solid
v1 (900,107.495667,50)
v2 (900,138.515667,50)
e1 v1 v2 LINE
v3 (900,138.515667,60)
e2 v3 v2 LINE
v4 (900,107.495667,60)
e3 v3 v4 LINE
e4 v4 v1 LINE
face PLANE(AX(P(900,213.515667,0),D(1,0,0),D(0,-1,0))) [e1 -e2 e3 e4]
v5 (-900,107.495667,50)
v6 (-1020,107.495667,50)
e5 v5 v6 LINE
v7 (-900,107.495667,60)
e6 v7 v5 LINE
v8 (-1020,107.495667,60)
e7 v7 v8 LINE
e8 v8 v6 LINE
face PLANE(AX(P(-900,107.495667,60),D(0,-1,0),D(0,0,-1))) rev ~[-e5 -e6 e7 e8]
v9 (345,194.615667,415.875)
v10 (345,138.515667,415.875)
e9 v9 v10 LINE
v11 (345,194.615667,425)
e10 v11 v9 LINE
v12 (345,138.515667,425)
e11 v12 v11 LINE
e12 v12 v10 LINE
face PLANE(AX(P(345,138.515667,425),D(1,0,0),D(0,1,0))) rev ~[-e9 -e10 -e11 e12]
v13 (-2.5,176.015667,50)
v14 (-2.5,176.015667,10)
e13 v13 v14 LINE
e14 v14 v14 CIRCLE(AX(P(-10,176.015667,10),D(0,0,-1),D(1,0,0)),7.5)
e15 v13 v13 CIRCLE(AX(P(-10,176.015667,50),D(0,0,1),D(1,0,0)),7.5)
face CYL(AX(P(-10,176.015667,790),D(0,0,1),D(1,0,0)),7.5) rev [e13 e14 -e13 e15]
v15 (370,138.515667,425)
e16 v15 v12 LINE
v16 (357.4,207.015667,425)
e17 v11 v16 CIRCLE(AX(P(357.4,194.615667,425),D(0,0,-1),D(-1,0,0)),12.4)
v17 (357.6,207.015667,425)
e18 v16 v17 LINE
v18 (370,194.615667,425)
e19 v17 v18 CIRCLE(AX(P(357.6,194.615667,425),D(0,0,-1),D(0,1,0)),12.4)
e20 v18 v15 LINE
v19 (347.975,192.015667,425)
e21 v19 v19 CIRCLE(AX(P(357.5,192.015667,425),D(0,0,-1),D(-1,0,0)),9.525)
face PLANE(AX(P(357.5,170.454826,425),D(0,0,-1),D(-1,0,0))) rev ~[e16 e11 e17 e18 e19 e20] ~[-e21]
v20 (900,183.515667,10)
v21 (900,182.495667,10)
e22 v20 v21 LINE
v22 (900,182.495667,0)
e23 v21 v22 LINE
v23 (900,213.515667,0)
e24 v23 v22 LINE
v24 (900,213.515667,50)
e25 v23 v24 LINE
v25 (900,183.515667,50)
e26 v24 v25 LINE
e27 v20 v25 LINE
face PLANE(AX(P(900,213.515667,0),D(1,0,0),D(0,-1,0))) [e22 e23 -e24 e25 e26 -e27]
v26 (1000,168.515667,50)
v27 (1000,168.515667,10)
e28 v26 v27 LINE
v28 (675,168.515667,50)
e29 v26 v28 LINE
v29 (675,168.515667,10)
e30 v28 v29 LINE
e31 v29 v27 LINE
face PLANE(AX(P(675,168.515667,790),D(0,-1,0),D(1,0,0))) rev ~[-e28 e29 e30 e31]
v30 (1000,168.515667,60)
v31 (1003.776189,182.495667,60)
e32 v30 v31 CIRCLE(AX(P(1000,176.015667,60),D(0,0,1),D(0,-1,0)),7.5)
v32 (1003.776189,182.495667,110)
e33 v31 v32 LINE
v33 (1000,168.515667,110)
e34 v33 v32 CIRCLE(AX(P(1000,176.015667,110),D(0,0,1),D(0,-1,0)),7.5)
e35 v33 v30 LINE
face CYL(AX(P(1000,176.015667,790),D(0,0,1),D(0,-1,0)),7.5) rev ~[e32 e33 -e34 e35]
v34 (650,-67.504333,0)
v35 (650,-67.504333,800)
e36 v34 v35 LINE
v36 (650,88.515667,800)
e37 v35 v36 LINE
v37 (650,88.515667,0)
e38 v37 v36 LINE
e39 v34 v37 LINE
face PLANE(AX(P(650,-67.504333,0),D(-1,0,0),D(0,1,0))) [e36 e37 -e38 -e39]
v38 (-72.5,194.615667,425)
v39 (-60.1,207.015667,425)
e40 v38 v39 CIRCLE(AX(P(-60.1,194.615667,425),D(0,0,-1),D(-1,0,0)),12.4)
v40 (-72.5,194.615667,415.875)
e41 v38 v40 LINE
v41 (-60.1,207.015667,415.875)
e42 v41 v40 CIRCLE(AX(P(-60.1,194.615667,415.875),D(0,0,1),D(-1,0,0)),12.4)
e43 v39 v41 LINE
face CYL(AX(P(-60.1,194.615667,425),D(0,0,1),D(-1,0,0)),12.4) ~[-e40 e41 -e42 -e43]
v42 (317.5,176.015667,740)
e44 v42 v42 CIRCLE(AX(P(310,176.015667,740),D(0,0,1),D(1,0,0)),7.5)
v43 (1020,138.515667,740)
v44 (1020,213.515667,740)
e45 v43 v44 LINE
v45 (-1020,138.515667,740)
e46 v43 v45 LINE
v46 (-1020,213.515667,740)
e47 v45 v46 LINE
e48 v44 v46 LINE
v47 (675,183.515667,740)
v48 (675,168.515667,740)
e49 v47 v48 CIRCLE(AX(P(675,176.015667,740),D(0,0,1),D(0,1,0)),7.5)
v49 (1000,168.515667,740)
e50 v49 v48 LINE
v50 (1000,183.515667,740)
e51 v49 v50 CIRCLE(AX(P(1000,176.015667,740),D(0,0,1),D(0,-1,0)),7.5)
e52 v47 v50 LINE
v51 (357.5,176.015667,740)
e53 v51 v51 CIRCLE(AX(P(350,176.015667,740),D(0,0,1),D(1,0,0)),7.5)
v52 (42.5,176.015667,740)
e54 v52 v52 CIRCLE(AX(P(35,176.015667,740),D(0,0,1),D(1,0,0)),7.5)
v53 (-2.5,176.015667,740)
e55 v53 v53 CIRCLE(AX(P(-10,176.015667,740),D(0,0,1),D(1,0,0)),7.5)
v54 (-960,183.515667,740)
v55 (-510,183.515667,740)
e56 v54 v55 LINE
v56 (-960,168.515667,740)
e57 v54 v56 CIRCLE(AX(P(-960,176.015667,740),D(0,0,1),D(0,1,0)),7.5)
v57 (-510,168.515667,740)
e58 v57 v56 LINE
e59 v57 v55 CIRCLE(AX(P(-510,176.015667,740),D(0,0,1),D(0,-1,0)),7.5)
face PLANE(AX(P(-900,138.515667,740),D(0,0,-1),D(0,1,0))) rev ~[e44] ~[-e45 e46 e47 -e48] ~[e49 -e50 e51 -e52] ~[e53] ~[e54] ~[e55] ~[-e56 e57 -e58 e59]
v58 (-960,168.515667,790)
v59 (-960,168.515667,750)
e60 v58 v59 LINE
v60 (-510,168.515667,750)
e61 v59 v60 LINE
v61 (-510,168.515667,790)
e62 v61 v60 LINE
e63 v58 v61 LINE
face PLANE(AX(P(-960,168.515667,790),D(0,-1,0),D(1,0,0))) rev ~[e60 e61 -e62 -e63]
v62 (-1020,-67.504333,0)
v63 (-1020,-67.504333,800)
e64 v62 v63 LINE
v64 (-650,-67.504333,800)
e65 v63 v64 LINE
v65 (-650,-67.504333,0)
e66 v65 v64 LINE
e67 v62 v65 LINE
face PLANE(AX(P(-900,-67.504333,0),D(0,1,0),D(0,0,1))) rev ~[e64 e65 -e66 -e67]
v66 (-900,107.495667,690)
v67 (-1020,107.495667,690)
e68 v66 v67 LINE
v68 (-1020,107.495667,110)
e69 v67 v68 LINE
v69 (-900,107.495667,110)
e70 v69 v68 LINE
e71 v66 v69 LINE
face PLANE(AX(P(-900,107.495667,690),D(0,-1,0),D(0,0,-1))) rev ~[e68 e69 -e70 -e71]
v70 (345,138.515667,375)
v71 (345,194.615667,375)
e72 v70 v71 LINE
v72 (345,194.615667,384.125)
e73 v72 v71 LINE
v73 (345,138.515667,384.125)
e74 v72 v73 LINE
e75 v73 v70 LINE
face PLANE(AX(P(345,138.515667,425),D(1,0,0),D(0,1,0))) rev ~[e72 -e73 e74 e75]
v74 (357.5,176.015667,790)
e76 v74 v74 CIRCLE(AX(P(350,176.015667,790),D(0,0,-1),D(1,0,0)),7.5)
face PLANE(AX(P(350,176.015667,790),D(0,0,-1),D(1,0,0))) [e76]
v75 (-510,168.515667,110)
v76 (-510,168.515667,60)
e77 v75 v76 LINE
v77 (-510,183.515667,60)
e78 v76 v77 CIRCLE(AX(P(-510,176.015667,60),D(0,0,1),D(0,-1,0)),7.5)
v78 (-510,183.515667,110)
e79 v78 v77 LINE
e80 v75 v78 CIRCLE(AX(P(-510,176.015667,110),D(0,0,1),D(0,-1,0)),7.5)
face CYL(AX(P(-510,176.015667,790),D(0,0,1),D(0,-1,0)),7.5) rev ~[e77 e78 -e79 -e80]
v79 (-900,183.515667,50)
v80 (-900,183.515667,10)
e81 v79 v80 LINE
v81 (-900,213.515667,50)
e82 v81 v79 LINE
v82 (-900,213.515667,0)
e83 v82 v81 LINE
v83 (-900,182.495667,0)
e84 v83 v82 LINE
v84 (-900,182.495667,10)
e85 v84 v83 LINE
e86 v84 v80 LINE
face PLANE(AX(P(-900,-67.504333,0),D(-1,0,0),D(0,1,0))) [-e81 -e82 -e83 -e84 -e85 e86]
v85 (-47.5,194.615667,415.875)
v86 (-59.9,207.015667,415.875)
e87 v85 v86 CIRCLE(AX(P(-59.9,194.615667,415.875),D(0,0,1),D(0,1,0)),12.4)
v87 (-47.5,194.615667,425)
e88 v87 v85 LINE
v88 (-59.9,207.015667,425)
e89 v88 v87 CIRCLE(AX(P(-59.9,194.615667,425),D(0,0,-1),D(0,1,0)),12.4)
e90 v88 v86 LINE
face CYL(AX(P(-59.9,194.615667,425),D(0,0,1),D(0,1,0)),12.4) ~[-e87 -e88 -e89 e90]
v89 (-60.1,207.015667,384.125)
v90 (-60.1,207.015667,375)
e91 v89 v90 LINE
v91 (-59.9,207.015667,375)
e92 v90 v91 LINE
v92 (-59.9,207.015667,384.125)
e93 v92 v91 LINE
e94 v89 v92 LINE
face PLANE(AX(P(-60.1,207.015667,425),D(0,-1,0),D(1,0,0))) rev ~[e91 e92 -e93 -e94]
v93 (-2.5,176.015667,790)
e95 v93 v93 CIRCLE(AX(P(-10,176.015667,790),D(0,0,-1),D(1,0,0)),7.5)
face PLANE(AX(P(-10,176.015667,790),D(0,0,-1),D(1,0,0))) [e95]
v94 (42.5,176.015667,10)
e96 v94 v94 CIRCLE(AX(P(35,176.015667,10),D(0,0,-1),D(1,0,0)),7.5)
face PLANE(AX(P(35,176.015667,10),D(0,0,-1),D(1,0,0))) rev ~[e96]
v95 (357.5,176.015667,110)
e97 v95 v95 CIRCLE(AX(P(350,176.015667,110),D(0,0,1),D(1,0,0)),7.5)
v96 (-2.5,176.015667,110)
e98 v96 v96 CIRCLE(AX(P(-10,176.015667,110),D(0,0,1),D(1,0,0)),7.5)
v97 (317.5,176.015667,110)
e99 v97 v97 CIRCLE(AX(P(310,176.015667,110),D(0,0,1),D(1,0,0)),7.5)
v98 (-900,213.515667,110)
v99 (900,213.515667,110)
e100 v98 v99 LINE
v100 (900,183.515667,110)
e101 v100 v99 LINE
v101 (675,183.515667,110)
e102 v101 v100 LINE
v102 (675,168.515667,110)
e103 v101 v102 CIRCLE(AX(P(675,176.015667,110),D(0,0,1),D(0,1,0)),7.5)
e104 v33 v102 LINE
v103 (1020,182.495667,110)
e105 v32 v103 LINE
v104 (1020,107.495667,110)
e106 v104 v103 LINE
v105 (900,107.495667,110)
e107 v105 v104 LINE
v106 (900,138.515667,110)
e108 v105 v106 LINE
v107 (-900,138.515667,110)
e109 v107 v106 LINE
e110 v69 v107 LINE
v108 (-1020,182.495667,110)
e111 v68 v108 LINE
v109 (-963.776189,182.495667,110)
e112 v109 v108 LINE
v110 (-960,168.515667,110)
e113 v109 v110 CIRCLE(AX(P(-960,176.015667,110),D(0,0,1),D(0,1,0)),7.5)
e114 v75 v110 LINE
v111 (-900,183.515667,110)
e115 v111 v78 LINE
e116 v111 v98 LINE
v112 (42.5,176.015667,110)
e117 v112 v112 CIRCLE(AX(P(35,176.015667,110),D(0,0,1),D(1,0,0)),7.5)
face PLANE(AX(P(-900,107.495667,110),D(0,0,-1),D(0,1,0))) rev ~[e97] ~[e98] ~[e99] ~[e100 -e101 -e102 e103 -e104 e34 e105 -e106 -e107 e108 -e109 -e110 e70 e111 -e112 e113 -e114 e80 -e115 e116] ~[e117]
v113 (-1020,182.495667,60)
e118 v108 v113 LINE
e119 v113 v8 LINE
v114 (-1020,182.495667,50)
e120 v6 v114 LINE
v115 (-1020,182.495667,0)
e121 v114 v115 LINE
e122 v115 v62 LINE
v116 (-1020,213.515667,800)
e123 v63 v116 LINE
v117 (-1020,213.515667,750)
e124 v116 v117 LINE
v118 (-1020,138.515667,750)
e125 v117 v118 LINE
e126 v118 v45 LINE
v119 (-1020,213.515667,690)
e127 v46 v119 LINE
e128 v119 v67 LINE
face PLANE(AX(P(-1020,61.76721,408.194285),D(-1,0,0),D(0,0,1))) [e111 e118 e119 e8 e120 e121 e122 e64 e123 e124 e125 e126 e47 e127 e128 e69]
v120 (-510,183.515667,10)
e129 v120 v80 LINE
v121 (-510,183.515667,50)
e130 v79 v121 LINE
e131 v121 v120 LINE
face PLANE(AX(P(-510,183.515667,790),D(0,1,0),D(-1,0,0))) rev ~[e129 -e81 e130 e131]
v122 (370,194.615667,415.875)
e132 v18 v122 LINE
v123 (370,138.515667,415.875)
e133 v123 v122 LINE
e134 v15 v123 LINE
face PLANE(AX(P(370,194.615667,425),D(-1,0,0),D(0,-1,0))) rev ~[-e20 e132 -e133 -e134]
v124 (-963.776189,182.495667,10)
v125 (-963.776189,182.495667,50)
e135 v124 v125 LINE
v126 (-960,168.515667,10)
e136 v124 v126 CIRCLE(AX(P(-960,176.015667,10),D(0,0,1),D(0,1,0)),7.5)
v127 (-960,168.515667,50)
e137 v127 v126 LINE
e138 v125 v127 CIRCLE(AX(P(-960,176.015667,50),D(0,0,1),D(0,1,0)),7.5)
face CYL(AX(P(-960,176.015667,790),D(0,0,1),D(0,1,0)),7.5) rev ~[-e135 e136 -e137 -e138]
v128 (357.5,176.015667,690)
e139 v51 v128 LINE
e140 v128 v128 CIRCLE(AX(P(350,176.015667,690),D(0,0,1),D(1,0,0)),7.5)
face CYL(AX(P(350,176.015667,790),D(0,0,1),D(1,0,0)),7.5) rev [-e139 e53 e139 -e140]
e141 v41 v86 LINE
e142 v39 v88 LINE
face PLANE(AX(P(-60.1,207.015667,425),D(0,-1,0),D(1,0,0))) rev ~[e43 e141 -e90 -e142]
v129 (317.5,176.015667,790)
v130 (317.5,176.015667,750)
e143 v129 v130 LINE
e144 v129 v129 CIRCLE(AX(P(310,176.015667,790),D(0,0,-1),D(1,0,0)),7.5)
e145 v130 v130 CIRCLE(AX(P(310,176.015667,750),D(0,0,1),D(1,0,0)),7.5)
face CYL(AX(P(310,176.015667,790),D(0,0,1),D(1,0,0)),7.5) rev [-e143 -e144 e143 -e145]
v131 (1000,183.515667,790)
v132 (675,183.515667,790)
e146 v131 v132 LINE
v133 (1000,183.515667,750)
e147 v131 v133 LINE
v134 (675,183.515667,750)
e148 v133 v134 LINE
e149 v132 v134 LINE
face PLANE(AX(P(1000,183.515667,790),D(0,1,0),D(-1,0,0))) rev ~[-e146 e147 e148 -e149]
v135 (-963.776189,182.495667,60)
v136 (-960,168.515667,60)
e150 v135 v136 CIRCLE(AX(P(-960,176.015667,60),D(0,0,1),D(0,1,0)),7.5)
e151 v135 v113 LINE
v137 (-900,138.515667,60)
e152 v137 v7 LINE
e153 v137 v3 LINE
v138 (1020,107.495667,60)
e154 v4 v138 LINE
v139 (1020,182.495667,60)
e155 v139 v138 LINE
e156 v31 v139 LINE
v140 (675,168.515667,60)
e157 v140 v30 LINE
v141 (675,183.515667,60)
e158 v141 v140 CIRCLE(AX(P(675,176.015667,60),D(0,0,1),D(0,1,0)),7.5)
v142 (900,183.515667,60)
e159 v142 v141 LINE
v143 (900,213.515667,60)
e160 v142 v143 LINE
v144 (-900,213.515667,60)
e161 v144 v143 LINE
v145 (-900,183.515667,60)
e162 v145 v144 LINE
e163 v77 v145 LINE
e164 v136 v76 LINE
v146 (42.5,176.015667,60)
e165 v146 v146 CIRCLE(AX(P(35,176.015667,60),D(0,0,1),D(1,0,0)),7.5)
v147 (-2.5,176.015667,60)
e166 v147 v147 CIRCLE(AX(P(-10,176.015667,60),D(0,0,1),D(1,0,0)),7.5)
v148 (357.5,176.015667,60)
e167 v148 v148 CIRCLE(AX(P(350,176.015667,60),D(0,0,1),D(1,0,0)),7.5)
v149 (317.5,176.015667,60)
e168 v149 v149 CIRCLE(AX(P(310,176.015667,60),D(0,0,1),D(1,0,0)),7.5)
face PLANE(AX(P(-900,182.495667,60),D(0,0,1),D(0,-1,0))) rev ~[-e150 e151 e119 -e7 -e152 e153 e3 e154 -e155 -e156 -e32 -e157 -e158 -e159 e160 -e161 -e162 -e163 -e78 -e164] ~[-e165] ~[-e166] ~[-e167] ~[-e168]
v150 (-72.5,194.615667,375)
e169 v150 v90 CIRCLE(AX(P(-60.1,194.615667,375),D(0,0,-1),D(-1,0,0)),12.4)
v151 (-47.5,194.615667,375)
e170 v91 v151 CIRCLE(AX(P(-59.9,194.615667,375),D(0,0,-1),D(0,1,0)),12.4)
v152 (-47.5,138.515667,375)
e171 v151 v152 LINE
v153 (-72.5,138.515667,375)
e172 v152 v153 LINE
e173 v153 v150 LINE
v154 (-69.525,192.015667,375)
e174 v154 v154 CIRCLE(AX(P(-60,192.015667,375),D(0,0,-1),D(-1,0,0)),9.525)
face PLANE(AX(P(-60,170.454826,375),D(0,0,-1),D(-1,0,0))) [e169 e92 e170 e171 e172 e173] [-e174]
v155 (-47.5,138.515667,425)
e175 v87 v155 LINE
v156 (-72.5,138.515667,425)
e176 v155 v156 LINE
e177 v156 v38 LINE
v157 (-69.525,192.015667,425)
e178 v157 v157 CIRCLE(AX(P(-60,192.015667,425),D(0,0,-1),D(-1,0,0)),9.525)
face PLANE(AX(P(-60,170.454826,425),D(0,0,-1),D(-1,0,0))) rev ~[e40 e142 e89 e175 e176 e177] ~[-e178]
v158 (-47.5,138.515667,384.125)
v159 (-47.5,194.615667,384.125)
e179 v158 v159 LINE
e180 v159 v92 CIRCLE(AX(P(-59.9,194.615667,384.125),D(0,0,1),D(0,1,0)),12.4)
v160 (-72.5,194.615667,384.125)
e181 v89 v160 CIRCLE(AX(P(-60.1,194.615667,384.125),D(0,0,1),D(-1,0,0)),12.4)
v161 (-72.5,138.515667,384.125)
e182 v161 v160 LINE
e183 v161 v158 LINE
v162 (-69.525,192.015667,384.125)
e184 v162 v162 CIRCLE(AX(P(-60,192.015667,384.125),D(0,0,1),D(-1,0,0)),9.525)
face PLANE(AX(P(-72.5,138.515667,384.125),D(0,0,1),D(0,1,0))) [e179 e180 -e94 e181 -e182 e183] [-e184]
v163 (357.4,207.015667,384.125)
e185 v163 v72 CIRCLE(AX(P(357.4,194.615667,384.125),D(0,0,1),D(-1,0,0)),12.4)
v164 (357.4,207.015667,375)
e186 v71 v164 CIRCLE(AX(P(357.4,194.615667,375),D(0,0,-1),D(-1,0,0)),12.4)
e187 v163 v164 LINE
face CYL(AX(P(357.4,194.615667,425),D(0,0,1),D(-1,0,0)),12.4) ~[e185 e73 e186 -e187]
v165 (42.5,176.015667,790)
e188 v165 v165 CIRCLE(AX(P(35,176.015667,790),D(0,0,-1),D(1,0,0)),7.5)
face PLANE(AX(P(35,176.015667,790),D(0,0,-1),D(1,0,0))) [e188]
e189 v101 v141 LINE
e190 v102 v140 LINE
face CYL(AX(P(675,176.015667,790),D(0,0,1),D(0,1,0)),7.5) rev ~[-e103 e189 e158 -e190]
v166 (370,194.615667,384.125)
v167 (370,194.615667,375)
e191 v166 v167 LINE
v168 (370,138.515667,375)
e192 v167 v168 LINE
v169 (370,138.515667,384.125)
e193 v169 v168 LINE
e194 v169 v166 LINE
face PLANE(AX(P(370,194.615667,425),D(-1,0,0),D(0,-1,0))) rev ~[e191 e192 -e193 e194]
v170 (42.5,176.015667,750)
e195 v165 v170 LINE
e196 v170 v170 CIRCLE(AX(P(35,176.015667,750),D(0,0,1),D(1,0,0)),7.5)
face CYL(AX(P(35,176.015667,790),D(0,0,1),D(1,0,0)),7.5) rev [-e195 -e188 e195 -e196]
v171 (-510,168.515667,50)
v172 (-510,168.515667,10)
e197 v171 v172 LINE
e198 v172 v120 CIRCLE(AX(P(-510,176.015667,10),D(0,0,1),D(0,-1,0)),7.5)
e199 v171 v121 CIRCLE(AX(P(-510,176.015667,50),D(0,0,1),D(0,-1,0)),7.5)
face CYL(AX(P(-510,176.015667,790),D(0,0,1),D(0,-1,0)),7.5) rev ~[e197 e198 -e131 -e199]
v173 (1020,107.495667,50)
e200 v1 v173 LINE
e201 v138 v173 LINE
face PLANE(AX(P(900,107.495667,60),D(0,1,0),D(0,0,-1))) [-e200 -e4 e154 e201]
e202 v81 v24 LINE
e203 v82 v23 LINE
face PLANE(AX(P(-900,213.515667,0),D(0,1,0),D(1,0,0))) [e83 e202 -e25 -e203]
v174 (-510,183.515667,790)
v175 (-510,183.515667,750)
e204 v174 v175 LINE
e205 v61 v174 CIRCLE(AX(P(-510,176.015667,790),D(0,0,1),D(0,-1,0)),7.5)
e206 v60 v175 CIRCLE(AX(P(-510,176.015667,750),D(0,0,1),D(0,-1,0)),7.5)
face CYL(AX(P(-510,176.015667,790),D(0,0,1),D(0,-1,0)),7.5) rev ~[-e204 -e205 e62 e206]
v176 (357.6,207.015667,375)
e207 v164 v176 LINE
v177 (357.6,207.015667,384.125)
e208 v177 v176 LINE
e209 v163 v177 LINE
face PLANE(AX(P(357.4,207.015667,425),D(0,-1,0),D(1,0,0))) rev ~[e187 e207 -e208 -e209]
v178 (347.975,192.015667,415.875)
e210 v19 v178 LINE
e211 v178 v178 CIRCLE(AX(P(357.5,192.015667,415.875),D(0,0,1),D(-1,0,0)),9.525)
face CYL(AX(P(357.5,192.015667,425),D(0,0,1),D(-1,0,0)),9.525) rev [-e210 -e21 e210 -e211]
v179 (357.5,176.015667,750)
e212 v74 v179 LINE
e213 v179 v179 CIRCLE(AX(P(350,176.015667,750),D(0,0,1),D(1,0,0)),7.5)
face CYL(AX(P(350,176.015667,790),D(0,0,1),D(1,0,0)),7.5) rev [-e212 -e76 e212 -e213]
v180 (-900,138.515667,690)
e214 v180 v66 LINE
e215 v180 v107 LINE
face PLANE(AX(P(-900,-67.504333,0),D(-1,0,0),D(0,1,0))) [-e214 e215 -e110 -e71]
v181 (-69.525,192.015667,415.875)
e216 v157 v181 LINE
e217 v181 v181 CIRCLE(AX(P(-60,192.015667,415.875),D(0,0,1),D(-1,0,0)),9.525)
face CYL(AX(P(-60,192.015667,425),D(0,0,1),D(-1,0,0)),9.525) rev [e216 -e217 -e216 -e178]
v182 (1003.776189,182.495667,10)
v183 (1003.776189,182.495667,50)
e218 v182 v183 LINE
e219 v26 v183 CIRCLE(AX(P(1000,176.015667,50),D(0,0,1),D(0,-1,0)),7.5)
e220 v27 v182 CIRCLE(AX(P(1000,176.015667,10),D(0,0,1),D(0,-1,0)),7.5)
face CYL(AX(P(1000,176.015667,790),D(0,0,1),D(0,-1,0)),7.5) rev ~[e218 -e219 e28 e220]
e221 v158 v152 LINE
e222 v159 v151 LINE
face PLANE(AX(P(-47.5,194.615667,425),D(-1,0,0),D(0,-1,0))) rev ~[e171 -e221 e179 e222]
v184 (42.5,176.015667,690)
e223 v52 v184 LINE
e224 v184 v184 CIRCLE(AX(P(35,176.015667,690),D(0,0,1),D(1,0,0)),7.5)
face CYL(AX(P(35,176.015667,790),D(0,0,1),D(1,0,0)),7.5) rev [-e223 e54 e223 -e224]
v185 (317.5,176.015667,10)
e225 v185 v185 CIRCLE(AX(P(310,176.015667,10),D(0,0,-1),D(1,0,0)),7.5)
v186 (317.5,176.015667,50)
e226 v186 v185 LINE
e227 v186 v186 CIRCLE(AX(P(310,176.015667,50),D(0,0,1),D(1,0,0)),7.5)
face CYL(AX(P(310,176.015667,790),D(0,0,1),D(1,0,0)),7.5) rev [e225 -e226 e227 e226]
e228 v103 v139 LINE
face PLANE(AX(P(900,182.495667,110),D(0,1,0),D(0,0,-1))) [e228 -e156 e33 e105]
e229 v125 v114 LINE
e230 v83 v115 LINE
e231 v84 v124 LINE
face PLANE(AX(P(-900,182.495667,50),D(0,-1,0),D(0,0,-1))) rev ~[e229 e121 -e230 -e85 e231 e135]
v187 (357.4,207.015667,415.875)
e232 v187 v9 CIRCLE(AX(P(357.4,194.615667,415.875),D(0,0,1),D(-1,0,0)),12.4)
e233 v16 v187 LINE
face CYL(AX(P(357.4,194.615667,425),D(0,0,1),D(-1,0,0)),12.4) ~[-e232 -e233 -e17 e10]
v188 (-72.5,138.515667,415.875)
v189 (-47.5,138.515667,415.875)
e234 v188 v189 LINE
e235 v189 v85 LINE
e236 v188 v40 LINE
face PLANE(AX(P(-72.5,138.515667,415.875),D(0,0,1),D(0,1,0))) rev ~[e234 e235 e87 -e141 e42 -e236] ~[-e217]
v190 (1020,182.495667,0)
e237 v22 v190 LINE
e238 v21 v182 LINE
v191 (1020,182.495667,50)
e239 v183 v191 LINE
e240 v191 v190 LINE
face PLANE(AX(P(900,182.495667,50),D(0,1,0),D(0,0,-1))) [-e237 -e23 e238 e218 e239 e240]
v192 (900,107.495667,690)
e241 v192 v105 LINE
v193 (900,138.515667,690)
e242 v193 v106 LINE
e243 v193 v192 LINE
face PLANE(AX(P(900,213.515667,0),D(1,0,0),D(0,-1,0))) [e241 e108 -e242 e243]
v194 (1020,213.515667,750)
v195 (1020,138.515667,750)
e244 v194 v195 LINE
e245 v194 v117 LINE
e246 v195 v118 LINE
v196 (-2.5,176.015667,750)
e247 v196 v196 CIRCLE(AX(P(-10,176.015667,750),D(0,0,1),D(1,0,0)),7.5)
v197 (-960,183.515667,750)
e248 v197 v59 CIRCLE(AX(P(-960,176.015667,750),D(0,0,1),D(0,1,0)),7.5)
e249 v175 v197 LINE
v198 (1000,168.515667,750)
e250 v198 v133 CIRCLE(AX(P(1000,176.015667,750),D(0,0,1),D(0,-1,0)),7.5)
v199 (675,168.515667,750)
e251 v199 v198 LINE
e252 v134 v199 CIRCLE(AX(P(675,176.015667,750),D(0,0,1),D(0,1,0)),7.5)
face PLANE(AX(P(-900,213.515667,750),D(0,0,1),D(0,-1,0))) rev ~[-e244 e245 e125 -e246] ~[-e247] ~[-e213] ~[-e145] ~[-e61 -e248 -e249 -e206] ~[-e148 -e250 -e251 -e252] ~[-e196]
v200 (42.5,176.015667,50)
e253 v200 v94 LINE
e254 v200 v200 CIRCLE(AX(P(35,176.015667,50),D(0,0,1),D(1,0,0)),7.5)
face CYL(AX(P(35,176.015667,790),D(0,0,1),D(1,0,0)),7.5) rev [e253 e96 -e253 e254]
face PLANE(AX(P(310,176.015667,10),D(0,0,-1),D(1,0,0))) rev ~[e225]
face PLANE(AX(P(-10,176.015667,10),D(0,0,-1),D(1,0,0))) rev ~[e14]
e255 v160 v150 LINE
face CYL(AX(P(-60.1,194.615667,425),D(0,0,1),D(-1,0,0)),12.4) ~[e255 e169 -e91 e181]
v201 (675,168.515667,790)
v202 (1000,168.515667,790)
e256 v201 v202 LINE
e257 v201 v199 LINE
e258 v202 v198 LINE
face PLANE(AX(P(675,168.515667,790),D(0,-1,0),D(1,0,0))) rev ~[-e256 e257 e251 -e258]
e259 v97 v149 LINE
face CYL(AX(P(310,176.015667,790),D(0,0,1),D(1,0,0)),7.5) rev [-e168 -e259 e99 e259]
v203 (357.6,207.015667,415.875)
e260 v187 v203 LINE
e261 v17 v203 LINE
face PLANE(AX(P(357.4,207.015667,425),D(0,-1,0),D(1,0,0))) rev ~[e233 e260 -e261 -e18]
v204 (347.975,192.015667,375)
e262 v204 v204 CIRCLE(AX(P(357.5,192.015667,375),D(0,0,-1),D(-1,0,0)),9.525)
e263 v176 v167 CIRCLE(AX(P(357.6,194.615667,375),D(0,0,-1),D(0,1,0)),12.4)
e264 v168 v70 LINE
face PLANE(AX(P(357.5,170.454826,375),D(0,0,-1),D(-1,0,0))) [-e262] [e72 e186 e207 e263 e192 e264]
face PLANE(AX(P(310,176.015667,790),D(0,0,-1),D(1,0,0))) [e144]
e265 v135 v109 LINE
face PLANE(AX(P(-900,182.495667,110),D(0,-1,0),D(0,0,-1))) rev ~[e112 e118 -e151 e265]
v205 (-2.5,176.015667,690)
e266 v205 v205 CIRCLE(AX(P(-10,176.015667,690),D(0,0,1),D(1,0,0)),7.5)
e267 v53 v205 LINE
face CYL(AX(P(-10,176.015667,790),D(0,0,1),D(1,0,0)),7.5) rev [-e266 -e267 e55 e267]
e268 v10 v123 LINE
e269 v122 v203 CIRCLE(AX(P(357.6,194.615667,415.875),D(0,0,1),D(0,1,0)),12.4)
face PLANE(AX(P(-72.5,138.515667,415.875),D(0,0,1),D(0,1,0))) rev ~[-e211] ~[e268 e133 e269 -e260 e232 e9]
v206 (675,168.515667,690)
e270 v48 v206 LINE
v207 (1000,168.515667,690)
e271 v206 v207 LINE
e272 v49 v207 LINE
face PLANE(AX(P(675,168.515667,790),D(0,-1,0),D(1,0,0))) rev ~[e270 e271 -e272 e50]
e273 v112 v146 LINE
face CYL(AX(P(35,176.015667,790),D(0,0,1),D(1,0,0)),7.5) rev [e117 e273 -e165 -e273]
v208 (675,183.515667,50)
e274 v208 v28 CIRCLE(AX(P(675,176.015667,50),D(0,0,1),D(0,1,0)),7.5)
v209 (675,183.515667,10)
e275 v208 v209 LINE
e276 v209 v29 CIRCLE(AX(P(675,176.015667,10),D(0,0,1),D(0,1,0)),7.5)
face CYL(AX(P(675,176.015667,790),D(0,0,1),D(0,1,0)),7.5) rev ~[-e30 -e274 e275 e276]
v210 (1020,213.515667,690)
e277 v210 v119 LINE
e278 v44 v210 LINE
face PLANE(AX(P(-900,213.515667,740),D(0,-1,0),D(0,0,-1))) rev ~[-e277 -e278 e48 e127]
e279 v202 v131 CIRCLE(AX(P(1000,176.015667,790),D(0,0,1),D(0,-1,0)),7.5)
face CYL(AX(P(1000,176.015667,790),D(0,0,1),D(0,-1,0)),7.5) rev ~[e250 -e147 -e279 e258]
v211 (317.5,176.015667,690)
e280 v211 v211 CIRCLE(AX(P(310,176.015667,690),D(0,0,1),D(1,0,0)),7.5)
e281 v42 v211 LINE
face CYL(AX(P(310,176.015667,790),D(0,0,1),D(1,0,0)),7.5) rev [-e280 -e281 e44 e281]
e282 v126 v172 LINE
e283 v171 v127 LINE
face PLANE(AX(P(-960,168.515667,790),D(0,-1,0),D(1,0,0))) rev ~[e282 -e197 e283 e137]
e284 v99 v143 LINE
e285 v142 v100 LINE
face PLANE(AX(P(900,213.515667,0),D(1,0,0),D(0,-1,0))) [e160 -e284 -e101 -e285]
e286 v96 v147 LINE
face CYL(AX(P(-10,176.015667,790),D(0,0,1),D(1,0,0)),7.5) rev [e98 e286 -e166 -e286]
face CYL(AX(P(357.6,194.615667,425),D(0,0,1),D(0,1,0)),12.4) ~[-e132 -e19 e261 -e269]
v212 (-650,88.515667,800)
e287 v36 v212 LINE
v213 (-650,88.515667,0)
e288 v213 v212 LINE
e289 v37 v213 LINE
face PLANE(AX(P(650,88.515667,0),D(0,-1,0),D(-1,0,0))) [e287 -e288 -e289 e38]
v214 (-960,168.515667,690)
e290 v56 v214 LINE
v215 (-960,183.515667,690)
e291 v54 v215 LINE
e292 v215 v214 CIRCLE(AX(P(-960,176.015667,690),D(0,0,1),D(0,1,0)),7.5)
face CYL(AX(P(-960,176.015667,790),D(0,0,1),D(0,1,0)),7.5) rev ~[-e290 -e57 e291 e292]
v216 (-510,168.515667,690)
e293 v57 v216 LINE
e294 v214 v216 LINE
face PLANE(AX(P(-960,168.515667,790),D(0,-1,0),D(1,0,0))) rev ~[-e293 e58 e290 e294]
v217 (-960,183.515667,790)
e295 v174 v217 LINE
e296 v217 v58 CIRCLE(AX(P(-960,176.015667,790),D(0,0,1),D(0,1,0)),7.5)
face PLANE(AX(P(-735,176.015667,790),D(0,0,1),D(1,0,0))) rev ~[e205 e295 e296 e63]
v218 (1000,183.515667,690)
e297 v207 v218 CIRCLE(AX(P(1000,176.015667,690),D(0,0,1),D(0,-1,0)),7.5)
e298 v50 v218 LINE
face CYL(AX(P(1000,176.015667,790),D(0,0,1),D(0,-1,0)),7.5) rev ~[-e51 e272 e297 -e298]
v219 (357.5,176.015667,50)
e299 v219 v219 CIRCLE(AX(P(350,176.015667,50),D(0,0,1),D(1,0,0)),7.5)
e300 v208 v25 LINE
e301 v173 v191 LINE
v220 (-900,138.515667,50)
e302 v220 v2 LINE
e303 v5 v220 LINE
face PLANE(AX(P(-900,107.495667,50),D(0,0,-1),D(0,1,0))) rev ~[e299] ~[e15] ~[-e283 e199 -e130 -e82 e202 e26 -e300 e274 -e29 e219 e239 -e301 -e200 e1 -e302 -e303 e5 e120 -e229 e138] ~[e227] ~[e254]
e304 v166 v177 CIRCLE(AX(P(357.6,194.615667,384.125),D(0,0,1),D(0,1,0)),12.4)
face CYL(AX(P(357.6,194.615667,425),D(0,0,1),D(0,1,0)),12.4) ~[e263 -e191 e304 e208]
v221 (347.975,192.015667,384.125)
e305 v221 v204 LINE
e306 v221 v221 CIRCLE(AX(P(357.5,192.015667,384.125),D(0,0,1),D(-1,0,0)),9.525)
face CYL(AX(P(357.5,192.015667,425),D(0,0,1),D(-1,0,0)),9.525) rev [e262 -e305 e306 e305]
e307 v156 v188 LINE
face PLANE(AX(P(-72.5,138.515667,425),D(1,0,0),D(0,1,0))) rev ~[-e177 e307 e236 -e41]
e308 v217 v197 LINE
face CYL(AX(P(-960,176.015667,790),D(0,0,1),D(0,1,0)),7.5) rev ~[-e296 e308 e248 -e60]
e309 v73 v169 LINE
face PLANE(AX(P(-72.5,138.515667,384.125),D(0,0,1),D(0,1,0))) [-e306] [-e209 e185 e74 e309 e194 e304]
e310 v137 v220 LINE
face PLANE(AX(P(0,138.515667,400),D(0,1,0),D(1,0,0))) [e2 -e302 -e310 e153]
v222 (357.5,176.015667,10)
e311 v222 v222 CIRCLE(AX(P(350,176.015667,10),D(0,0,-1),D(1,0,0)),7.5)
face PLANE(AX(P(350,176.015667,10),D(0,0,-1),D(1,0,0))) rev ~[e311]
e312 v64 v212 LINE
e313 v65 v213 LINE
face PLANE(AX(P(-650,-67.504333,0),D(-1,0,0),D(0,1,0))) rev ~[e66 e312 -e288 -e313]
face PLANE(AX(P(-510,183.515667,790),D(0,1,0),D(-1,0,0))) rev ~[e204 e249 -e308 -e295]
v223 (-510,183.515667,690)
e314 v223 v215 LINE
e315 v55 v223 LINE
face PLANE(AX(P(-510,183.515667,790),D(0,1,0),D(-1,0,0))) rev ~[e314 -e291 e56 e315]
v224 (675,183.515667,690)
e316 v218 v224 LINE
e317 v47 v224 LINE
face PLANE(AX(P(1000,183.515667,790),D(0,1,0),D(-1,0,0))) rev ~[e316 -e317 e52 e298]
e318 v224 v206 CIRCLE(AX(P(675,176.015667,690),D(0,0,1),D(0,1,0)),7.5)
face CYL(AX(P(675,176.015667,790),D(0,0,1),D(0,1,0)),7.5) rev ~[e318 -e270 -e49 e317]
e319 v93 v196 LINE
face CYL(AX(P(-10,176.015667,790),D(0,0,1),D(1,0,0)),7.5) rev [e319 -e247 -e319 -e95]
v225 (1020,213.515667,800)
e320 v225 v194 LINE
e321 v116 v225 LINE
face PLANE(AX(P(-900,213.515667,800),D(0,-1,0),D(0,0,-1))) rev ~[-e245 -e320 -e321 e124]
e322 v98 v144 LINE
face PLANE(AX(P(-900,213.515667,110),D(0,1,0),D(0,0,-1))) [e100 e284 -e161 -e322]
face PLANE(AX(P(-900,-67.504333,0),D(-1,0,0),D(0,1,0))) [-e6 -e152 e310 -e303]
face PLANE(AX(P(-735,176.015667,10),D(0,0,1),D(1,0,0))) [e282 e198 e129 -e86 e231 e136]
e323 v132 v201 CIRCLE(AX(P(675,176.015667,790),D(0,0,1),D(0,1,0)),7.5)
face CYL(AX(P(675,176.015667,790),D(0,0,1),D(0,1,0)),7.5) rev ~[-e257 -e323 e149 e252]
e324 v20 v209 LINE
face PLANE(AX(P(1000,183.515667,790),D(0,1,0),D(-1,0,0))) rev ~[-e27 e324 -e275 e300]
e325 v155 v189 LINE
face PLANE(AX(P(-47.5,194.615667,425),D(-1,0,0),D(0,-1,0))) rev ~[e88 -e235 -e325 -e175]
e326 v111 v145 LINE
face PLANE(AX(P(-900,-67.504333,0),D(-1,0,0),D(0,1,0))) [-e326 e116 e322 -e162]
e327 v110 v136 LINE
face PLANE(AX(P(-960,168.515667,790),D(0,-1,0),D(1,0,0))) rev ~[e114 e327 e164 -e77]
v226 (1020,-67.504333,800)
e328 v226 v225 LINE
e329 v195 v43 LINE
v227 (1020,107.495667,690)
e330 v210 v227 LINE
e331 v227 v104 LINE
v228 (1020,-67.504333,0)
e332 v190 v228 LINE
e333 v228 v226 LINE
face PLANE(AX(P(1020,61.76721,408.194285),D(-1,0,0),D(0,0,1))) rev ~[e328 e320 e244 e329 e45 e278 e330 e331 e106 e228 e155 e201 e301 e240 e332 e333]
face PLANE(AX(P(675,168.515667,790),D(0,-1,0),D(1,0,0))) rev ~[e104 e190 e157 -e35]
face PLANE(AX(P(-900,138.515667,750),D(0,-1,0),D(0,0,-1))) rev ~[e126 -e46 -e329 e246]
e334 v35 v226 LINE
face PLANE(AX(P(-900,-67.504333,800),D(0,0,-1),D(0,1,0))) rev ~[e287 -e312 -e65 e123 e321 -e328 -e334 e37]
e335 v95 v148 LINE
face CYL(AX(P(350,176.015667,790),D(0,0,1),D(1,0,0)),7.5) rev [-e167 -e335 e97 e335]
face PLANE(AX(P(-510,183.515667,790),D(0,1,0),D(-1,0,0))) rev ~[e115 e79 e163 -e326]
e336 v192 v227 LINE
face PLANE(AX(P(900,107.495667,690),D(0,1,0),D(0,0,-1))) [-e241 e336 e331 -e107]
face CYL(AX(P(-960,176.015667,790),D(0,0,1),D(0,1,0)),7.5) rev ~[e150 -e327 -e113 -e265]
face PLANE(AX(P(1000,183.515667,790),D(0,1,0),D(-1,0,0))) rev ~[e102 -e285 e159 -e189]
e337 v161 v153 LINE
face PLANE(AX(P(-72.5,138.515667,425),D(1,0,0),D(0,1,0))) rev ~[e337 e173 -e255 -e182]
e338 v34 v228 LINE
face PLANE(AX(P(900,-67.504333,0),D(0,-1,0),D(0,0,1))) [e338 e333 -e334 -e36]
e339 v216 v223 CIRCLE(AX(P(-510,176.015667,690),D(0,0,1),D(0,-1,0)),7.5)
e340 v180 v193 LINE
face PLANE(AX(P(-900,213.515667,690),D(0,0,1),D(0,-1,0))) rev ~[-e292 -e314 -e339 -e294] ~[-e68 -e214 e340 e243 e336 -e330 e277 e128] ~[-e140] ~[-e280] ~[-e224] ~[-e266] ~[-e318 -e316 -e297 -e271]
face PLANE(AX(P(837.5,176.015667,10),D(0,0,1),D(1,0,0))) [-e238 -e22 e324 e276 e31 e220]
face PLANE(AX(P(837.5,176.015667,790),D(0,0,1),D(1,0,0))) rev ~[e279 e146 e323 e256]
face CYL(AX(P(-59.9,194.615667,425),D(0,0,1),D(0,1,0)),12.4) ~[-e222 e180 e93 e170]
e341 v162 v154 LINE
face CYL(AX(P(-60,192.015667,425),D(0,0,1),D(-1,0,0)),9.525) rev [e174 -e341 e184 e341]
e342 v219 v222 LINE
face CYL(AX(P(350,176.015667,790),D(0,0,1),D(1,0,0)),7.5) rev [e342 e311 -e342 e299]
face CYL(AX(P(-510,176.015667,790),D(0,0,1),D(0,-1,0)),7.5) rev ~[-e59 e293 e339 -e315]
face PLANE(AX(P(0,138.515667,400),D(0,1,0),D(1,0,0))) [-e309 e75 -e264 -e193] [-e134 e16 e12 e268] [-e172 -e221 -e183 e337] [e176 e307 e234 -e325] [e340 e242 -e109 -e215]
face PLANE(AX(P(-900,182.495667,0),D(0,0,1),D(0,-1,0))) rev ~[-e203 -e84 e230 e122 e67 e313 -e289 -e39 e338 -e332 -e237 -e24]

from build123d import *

# Parameters (mm, degrees)
GENERAL_SHAPE_DEPTH      = 800
SKETCH5_W                = 1800
SKETCH5_H                = 700
CUT_EXTRUDE2_DEPTH       = 75
SKETCH6_W                = 1300
SKETCH6_H                = 156.02
WEIGHT_REDUCTION_DEPTH   = 1223.94273789
BOSS_EXTRUDE3_DEPTH      = 900
BOSS_EXTRUDE3_DEPTH_BACK = 900
SKETCH8_W                = 50
SKETCH8_H                = 75
BOSS_EXTRUDE4_DEPTH      = 120
BOSS_EXTRUDE5_DEPTH      = 120
CUT_EXTRUDE4_DEPTH       = 740
CUT_EXTRUDE4_DEPTH_BACK  = 40
SKETCH7_R                = 7.5
BOSS_EXTRUDE6_DEPTH      = 25
BOSS_EXTRUDE6_DEPTH_BACK = 25
SKETCH12_R               = 9.525
SKETCH13_W               = 31.75
SKETCH13_H               = 68.5
CUT_EXTRUDE5_DEPTH       = 1371.819167563


with BuildPart() as part:
    # Sketch1 → General shape (new body)
    with BuildSketch(Plane.XY):
        Polygon((-900, 213.515667244), (900, 213.515667244), (900, -67.504332756), (500, -67.504332756), (-500, -67.504332756), (-900, -67.504332756), align=None)
    extrude(amount=GENERAL_SHAPE_DEPTH)

    # Sketch5 → Cut-Extrude2 (cut)
    with BuildSketch(Plane(origin=(0, 213.515667244, 0), x_dir=(1, 0, 0), z_dir=(0, 1, 0))):
        with Locations((0, -400)):
            Rectangle(SKETCH5_W, SKETCH5_H)
    extrude(amount=-CUT_EXTRUDE2_DEPTH, mode=Mode.SUBTRACT)

    # Sketch6 → Weight reduction (cut, through all)
    with BuildSketch(Plane(origin=(0, 0, 0), x_dir=(-1, 0, 0), z_dir=(0, 0, -1))):
        with Locations((0, 10.505667244)):
            Rectangle(SKETCH6_W, SKETCH6_H)
    extrude(amount=-WEIGHT_REDUCTION_DEPTH, mode=Mode.SUBTRACT)

    # Sketch8 → Boss-Extrude3 (add, two sides: drawn at the far end of the back side and taken through both)
    with BuildSketch(Plane(origin=(0, 0, 0), x_dir=(0, 0, -1), z_dir=(1, 0, 0)).offset(-BOSS_EXTRUDE3_DEPTH_BACK)):
        with Locations((-715, 176.015667244)):
            Rectangle(SKETCH8_W, SKETCH8_H)
        with Locations((-85, 176.015667244)):
            Rectangle(SKETCH8_W, SKETCH8_H)
    extrude(amount=BOSS_EXTRUDE3_DEPTH + BOSS_EXTRUDE3_DEPTH_BACK)

    # Sketch9 → Boss-Extrude4 (add)
    with BuildSketch(Plane(origin=(900, 0, 0), x_dir=(0, 0, -1), z_dir=(1, 0, 0))):
        Polygon((-800, 213.515667244), (-750, 213.515667244), (-750, 138.515667244), (-740, 138.515667244), (-740, 213.515667244), (-690, 213.515667244), (-690, 107.495667244), (-110, 107.495667244), (-110, 182.495667244), (-60, 182.495667244), (-60, 107.495667244), (-50, 107.495667244), (-50, 182.495667244), (0, 182.495667244), (0, -67.504332756), (-800, -67.504332756), align=None)
    extrude(amount=BOSS_EXTRUDE4_DEPTH)

    # Sketch10 → Boss-Extrude5 (add)
    with BuildSketch(Plane.ZY.offset(900)):
        Polygon((800, 213.515667244), (750, 213.515667244), (750, 138.515667244), (740, 138.515667244), (740, 213.515667244), (690, 213.515667244), (690, 107.495667244), (110, 107.495667244), (110, 182.495667244), (60, 182.495667244), (60, 107.495667244), (50, 107.495667244), (50, 182.495667244), (0, 182.495667244), (0, -67.504332756), (800, -67.504332756), align=None)
    extrude(amount=BOSS_EXTRUDE5_DEPTH)

    # Sketch7 → Cut-Extrude4 (cut, two sides: drawn at the far end of the back side and taken through both)
    with BuildSketch(Plane(origin=(0, 0, 750), x_dir=(-1, 0, 0), z_dir=(0, 0, -1)).offset(-CUT_EXTRUDE4_DEPTH_BACK)):
        with Locations(Location((-35, 176.015667244, 0), (0, 0, 180))):
            Circle(SKETCH7_R)
        with Locations(Location((-350, 176.015667244, 0), (0, 0, 180))):
            Circle(SKETCH7_R)
        with Locations(Location((-310, 176.015667244, 0), (0, 0, 180))):
            Circle(SKETCH7_R)
        with Locations(Location((10, 176.015667244, 0), (0, 0, 180))):
            Circle(SKETCH7_R)
        with BuildLine():
            Line((960, 168.515667244), (510, 168.515667244))
            ThreePointArc((510, 168.515667244), (502.5, 176.015667244), (510, 183.515667244))
            Line((510, 183.515667244), (960, 183.515667244))
            ThreePointArc((960, 183.515667244), (967.5, 176.015667244), (960, 168.515667244))
        make_face()
        with BuildLine():
            Line((-1000, 183.515667244), (-675, 183.515667244))
            ThreePointArc((-675, 183.515667244), (-667.5, 176.015667244), (-675, 168.515667244))
            Line((-675, 168.515667244), (-1000, 168.515667244))
            ThreePointArc((-1000, 168.515667244), (-1007.5, 176.015667244), (-1000, 183.515667244))
        make_face()
    extrude(amount=CUT_EXTRUDE4_DEPTH + CUT_EXTRUDE4_DEPTH_BACK, mode=Mode.SUBTRACT)

    # Sketch12 → Boss-Extrude6 (add, two sides: drawn at the far end of the back side and taken through both)
    # profile 1 of 2: a face of its own
    with BuildSketch(Plane(origin=(0, 0, 400), x_dir=(-1, 0, 0), z_dir=(0, 0, -1)).offset(-BOSS_EXTRUDE6_DEPTH_BACK)):
        with BuildLine():
            Line((72.5, 138.515667244), (72.5, 194.615667244))
            ThreePointArc((72.5, 194.615667244), (68.868124087, 203.383791331), (60.1, 207.015667244))
            Line((60.1, 207.015667244), (59.9, 207.015667244))
            ThreePointArc((59.9, 207.015667244), (51.131875913, 203.383791331), (47.5, 194.615667244))
            Line((47.5, 194.615667244), (47.5, 138.515667244))
            Line((47.5, 138.515667244), (72.5, 138.515667244))
        make_face()
        with Locations((60, 192.015667244)):
            Circle(SKETCH12_R, mode=Mode.SUBTRACT)
    # profile 2 of 2: a face of its own
    with BuildSketch(Plane(origin=(0, 0, 400), x_dir=(-1, 0, 0), z_dir=(0, 0, -1)).offset(-BOSS_EXTRUDE6_DEPTH_BACK)):
        with BuildLine():
            Line((-345, 138.515667244), (-345, 194.615667244))
            ThreePointArc((-345, 194.615667244), (-348.631875913, 203.383791331), (-357.4, 207.015667244))
            Line((-357.4, 207.015667244), (-357.6, 207.015667244))
            ThreePointArc((-357.6, 207.015667244), (-366.368124087, 203.383791331), (-370, 194.615667244))
            Line((-370, 194.615667244), (-370, 138.515667244))
            Line((-370, 138.515667244), (-345, 138.515667244))
        make_face()
        with Locations((-357.5, 192.015667244)):
            Circle(SKETCH12_R, mode=Mode.SUBTRACT)
    extrude(amount=BOSS_EXTRUDE6_DEPTH + BOSS_EXTRUDE6_DEPTH_BACK)

    # Sketch13 → Cut-Extrude5 (cut, through all)
    with BuildSketch(Plane.ZY.offset(72.5)):
        with Locations((400, 172.765667244)):
            Rectangle(SKETCH13_W, SKETCH13_H)
    extrude(amount=-CUT_EXTRUDE5_DEPTH, mode=Mode.SUBTRACT)


solid = part.part
